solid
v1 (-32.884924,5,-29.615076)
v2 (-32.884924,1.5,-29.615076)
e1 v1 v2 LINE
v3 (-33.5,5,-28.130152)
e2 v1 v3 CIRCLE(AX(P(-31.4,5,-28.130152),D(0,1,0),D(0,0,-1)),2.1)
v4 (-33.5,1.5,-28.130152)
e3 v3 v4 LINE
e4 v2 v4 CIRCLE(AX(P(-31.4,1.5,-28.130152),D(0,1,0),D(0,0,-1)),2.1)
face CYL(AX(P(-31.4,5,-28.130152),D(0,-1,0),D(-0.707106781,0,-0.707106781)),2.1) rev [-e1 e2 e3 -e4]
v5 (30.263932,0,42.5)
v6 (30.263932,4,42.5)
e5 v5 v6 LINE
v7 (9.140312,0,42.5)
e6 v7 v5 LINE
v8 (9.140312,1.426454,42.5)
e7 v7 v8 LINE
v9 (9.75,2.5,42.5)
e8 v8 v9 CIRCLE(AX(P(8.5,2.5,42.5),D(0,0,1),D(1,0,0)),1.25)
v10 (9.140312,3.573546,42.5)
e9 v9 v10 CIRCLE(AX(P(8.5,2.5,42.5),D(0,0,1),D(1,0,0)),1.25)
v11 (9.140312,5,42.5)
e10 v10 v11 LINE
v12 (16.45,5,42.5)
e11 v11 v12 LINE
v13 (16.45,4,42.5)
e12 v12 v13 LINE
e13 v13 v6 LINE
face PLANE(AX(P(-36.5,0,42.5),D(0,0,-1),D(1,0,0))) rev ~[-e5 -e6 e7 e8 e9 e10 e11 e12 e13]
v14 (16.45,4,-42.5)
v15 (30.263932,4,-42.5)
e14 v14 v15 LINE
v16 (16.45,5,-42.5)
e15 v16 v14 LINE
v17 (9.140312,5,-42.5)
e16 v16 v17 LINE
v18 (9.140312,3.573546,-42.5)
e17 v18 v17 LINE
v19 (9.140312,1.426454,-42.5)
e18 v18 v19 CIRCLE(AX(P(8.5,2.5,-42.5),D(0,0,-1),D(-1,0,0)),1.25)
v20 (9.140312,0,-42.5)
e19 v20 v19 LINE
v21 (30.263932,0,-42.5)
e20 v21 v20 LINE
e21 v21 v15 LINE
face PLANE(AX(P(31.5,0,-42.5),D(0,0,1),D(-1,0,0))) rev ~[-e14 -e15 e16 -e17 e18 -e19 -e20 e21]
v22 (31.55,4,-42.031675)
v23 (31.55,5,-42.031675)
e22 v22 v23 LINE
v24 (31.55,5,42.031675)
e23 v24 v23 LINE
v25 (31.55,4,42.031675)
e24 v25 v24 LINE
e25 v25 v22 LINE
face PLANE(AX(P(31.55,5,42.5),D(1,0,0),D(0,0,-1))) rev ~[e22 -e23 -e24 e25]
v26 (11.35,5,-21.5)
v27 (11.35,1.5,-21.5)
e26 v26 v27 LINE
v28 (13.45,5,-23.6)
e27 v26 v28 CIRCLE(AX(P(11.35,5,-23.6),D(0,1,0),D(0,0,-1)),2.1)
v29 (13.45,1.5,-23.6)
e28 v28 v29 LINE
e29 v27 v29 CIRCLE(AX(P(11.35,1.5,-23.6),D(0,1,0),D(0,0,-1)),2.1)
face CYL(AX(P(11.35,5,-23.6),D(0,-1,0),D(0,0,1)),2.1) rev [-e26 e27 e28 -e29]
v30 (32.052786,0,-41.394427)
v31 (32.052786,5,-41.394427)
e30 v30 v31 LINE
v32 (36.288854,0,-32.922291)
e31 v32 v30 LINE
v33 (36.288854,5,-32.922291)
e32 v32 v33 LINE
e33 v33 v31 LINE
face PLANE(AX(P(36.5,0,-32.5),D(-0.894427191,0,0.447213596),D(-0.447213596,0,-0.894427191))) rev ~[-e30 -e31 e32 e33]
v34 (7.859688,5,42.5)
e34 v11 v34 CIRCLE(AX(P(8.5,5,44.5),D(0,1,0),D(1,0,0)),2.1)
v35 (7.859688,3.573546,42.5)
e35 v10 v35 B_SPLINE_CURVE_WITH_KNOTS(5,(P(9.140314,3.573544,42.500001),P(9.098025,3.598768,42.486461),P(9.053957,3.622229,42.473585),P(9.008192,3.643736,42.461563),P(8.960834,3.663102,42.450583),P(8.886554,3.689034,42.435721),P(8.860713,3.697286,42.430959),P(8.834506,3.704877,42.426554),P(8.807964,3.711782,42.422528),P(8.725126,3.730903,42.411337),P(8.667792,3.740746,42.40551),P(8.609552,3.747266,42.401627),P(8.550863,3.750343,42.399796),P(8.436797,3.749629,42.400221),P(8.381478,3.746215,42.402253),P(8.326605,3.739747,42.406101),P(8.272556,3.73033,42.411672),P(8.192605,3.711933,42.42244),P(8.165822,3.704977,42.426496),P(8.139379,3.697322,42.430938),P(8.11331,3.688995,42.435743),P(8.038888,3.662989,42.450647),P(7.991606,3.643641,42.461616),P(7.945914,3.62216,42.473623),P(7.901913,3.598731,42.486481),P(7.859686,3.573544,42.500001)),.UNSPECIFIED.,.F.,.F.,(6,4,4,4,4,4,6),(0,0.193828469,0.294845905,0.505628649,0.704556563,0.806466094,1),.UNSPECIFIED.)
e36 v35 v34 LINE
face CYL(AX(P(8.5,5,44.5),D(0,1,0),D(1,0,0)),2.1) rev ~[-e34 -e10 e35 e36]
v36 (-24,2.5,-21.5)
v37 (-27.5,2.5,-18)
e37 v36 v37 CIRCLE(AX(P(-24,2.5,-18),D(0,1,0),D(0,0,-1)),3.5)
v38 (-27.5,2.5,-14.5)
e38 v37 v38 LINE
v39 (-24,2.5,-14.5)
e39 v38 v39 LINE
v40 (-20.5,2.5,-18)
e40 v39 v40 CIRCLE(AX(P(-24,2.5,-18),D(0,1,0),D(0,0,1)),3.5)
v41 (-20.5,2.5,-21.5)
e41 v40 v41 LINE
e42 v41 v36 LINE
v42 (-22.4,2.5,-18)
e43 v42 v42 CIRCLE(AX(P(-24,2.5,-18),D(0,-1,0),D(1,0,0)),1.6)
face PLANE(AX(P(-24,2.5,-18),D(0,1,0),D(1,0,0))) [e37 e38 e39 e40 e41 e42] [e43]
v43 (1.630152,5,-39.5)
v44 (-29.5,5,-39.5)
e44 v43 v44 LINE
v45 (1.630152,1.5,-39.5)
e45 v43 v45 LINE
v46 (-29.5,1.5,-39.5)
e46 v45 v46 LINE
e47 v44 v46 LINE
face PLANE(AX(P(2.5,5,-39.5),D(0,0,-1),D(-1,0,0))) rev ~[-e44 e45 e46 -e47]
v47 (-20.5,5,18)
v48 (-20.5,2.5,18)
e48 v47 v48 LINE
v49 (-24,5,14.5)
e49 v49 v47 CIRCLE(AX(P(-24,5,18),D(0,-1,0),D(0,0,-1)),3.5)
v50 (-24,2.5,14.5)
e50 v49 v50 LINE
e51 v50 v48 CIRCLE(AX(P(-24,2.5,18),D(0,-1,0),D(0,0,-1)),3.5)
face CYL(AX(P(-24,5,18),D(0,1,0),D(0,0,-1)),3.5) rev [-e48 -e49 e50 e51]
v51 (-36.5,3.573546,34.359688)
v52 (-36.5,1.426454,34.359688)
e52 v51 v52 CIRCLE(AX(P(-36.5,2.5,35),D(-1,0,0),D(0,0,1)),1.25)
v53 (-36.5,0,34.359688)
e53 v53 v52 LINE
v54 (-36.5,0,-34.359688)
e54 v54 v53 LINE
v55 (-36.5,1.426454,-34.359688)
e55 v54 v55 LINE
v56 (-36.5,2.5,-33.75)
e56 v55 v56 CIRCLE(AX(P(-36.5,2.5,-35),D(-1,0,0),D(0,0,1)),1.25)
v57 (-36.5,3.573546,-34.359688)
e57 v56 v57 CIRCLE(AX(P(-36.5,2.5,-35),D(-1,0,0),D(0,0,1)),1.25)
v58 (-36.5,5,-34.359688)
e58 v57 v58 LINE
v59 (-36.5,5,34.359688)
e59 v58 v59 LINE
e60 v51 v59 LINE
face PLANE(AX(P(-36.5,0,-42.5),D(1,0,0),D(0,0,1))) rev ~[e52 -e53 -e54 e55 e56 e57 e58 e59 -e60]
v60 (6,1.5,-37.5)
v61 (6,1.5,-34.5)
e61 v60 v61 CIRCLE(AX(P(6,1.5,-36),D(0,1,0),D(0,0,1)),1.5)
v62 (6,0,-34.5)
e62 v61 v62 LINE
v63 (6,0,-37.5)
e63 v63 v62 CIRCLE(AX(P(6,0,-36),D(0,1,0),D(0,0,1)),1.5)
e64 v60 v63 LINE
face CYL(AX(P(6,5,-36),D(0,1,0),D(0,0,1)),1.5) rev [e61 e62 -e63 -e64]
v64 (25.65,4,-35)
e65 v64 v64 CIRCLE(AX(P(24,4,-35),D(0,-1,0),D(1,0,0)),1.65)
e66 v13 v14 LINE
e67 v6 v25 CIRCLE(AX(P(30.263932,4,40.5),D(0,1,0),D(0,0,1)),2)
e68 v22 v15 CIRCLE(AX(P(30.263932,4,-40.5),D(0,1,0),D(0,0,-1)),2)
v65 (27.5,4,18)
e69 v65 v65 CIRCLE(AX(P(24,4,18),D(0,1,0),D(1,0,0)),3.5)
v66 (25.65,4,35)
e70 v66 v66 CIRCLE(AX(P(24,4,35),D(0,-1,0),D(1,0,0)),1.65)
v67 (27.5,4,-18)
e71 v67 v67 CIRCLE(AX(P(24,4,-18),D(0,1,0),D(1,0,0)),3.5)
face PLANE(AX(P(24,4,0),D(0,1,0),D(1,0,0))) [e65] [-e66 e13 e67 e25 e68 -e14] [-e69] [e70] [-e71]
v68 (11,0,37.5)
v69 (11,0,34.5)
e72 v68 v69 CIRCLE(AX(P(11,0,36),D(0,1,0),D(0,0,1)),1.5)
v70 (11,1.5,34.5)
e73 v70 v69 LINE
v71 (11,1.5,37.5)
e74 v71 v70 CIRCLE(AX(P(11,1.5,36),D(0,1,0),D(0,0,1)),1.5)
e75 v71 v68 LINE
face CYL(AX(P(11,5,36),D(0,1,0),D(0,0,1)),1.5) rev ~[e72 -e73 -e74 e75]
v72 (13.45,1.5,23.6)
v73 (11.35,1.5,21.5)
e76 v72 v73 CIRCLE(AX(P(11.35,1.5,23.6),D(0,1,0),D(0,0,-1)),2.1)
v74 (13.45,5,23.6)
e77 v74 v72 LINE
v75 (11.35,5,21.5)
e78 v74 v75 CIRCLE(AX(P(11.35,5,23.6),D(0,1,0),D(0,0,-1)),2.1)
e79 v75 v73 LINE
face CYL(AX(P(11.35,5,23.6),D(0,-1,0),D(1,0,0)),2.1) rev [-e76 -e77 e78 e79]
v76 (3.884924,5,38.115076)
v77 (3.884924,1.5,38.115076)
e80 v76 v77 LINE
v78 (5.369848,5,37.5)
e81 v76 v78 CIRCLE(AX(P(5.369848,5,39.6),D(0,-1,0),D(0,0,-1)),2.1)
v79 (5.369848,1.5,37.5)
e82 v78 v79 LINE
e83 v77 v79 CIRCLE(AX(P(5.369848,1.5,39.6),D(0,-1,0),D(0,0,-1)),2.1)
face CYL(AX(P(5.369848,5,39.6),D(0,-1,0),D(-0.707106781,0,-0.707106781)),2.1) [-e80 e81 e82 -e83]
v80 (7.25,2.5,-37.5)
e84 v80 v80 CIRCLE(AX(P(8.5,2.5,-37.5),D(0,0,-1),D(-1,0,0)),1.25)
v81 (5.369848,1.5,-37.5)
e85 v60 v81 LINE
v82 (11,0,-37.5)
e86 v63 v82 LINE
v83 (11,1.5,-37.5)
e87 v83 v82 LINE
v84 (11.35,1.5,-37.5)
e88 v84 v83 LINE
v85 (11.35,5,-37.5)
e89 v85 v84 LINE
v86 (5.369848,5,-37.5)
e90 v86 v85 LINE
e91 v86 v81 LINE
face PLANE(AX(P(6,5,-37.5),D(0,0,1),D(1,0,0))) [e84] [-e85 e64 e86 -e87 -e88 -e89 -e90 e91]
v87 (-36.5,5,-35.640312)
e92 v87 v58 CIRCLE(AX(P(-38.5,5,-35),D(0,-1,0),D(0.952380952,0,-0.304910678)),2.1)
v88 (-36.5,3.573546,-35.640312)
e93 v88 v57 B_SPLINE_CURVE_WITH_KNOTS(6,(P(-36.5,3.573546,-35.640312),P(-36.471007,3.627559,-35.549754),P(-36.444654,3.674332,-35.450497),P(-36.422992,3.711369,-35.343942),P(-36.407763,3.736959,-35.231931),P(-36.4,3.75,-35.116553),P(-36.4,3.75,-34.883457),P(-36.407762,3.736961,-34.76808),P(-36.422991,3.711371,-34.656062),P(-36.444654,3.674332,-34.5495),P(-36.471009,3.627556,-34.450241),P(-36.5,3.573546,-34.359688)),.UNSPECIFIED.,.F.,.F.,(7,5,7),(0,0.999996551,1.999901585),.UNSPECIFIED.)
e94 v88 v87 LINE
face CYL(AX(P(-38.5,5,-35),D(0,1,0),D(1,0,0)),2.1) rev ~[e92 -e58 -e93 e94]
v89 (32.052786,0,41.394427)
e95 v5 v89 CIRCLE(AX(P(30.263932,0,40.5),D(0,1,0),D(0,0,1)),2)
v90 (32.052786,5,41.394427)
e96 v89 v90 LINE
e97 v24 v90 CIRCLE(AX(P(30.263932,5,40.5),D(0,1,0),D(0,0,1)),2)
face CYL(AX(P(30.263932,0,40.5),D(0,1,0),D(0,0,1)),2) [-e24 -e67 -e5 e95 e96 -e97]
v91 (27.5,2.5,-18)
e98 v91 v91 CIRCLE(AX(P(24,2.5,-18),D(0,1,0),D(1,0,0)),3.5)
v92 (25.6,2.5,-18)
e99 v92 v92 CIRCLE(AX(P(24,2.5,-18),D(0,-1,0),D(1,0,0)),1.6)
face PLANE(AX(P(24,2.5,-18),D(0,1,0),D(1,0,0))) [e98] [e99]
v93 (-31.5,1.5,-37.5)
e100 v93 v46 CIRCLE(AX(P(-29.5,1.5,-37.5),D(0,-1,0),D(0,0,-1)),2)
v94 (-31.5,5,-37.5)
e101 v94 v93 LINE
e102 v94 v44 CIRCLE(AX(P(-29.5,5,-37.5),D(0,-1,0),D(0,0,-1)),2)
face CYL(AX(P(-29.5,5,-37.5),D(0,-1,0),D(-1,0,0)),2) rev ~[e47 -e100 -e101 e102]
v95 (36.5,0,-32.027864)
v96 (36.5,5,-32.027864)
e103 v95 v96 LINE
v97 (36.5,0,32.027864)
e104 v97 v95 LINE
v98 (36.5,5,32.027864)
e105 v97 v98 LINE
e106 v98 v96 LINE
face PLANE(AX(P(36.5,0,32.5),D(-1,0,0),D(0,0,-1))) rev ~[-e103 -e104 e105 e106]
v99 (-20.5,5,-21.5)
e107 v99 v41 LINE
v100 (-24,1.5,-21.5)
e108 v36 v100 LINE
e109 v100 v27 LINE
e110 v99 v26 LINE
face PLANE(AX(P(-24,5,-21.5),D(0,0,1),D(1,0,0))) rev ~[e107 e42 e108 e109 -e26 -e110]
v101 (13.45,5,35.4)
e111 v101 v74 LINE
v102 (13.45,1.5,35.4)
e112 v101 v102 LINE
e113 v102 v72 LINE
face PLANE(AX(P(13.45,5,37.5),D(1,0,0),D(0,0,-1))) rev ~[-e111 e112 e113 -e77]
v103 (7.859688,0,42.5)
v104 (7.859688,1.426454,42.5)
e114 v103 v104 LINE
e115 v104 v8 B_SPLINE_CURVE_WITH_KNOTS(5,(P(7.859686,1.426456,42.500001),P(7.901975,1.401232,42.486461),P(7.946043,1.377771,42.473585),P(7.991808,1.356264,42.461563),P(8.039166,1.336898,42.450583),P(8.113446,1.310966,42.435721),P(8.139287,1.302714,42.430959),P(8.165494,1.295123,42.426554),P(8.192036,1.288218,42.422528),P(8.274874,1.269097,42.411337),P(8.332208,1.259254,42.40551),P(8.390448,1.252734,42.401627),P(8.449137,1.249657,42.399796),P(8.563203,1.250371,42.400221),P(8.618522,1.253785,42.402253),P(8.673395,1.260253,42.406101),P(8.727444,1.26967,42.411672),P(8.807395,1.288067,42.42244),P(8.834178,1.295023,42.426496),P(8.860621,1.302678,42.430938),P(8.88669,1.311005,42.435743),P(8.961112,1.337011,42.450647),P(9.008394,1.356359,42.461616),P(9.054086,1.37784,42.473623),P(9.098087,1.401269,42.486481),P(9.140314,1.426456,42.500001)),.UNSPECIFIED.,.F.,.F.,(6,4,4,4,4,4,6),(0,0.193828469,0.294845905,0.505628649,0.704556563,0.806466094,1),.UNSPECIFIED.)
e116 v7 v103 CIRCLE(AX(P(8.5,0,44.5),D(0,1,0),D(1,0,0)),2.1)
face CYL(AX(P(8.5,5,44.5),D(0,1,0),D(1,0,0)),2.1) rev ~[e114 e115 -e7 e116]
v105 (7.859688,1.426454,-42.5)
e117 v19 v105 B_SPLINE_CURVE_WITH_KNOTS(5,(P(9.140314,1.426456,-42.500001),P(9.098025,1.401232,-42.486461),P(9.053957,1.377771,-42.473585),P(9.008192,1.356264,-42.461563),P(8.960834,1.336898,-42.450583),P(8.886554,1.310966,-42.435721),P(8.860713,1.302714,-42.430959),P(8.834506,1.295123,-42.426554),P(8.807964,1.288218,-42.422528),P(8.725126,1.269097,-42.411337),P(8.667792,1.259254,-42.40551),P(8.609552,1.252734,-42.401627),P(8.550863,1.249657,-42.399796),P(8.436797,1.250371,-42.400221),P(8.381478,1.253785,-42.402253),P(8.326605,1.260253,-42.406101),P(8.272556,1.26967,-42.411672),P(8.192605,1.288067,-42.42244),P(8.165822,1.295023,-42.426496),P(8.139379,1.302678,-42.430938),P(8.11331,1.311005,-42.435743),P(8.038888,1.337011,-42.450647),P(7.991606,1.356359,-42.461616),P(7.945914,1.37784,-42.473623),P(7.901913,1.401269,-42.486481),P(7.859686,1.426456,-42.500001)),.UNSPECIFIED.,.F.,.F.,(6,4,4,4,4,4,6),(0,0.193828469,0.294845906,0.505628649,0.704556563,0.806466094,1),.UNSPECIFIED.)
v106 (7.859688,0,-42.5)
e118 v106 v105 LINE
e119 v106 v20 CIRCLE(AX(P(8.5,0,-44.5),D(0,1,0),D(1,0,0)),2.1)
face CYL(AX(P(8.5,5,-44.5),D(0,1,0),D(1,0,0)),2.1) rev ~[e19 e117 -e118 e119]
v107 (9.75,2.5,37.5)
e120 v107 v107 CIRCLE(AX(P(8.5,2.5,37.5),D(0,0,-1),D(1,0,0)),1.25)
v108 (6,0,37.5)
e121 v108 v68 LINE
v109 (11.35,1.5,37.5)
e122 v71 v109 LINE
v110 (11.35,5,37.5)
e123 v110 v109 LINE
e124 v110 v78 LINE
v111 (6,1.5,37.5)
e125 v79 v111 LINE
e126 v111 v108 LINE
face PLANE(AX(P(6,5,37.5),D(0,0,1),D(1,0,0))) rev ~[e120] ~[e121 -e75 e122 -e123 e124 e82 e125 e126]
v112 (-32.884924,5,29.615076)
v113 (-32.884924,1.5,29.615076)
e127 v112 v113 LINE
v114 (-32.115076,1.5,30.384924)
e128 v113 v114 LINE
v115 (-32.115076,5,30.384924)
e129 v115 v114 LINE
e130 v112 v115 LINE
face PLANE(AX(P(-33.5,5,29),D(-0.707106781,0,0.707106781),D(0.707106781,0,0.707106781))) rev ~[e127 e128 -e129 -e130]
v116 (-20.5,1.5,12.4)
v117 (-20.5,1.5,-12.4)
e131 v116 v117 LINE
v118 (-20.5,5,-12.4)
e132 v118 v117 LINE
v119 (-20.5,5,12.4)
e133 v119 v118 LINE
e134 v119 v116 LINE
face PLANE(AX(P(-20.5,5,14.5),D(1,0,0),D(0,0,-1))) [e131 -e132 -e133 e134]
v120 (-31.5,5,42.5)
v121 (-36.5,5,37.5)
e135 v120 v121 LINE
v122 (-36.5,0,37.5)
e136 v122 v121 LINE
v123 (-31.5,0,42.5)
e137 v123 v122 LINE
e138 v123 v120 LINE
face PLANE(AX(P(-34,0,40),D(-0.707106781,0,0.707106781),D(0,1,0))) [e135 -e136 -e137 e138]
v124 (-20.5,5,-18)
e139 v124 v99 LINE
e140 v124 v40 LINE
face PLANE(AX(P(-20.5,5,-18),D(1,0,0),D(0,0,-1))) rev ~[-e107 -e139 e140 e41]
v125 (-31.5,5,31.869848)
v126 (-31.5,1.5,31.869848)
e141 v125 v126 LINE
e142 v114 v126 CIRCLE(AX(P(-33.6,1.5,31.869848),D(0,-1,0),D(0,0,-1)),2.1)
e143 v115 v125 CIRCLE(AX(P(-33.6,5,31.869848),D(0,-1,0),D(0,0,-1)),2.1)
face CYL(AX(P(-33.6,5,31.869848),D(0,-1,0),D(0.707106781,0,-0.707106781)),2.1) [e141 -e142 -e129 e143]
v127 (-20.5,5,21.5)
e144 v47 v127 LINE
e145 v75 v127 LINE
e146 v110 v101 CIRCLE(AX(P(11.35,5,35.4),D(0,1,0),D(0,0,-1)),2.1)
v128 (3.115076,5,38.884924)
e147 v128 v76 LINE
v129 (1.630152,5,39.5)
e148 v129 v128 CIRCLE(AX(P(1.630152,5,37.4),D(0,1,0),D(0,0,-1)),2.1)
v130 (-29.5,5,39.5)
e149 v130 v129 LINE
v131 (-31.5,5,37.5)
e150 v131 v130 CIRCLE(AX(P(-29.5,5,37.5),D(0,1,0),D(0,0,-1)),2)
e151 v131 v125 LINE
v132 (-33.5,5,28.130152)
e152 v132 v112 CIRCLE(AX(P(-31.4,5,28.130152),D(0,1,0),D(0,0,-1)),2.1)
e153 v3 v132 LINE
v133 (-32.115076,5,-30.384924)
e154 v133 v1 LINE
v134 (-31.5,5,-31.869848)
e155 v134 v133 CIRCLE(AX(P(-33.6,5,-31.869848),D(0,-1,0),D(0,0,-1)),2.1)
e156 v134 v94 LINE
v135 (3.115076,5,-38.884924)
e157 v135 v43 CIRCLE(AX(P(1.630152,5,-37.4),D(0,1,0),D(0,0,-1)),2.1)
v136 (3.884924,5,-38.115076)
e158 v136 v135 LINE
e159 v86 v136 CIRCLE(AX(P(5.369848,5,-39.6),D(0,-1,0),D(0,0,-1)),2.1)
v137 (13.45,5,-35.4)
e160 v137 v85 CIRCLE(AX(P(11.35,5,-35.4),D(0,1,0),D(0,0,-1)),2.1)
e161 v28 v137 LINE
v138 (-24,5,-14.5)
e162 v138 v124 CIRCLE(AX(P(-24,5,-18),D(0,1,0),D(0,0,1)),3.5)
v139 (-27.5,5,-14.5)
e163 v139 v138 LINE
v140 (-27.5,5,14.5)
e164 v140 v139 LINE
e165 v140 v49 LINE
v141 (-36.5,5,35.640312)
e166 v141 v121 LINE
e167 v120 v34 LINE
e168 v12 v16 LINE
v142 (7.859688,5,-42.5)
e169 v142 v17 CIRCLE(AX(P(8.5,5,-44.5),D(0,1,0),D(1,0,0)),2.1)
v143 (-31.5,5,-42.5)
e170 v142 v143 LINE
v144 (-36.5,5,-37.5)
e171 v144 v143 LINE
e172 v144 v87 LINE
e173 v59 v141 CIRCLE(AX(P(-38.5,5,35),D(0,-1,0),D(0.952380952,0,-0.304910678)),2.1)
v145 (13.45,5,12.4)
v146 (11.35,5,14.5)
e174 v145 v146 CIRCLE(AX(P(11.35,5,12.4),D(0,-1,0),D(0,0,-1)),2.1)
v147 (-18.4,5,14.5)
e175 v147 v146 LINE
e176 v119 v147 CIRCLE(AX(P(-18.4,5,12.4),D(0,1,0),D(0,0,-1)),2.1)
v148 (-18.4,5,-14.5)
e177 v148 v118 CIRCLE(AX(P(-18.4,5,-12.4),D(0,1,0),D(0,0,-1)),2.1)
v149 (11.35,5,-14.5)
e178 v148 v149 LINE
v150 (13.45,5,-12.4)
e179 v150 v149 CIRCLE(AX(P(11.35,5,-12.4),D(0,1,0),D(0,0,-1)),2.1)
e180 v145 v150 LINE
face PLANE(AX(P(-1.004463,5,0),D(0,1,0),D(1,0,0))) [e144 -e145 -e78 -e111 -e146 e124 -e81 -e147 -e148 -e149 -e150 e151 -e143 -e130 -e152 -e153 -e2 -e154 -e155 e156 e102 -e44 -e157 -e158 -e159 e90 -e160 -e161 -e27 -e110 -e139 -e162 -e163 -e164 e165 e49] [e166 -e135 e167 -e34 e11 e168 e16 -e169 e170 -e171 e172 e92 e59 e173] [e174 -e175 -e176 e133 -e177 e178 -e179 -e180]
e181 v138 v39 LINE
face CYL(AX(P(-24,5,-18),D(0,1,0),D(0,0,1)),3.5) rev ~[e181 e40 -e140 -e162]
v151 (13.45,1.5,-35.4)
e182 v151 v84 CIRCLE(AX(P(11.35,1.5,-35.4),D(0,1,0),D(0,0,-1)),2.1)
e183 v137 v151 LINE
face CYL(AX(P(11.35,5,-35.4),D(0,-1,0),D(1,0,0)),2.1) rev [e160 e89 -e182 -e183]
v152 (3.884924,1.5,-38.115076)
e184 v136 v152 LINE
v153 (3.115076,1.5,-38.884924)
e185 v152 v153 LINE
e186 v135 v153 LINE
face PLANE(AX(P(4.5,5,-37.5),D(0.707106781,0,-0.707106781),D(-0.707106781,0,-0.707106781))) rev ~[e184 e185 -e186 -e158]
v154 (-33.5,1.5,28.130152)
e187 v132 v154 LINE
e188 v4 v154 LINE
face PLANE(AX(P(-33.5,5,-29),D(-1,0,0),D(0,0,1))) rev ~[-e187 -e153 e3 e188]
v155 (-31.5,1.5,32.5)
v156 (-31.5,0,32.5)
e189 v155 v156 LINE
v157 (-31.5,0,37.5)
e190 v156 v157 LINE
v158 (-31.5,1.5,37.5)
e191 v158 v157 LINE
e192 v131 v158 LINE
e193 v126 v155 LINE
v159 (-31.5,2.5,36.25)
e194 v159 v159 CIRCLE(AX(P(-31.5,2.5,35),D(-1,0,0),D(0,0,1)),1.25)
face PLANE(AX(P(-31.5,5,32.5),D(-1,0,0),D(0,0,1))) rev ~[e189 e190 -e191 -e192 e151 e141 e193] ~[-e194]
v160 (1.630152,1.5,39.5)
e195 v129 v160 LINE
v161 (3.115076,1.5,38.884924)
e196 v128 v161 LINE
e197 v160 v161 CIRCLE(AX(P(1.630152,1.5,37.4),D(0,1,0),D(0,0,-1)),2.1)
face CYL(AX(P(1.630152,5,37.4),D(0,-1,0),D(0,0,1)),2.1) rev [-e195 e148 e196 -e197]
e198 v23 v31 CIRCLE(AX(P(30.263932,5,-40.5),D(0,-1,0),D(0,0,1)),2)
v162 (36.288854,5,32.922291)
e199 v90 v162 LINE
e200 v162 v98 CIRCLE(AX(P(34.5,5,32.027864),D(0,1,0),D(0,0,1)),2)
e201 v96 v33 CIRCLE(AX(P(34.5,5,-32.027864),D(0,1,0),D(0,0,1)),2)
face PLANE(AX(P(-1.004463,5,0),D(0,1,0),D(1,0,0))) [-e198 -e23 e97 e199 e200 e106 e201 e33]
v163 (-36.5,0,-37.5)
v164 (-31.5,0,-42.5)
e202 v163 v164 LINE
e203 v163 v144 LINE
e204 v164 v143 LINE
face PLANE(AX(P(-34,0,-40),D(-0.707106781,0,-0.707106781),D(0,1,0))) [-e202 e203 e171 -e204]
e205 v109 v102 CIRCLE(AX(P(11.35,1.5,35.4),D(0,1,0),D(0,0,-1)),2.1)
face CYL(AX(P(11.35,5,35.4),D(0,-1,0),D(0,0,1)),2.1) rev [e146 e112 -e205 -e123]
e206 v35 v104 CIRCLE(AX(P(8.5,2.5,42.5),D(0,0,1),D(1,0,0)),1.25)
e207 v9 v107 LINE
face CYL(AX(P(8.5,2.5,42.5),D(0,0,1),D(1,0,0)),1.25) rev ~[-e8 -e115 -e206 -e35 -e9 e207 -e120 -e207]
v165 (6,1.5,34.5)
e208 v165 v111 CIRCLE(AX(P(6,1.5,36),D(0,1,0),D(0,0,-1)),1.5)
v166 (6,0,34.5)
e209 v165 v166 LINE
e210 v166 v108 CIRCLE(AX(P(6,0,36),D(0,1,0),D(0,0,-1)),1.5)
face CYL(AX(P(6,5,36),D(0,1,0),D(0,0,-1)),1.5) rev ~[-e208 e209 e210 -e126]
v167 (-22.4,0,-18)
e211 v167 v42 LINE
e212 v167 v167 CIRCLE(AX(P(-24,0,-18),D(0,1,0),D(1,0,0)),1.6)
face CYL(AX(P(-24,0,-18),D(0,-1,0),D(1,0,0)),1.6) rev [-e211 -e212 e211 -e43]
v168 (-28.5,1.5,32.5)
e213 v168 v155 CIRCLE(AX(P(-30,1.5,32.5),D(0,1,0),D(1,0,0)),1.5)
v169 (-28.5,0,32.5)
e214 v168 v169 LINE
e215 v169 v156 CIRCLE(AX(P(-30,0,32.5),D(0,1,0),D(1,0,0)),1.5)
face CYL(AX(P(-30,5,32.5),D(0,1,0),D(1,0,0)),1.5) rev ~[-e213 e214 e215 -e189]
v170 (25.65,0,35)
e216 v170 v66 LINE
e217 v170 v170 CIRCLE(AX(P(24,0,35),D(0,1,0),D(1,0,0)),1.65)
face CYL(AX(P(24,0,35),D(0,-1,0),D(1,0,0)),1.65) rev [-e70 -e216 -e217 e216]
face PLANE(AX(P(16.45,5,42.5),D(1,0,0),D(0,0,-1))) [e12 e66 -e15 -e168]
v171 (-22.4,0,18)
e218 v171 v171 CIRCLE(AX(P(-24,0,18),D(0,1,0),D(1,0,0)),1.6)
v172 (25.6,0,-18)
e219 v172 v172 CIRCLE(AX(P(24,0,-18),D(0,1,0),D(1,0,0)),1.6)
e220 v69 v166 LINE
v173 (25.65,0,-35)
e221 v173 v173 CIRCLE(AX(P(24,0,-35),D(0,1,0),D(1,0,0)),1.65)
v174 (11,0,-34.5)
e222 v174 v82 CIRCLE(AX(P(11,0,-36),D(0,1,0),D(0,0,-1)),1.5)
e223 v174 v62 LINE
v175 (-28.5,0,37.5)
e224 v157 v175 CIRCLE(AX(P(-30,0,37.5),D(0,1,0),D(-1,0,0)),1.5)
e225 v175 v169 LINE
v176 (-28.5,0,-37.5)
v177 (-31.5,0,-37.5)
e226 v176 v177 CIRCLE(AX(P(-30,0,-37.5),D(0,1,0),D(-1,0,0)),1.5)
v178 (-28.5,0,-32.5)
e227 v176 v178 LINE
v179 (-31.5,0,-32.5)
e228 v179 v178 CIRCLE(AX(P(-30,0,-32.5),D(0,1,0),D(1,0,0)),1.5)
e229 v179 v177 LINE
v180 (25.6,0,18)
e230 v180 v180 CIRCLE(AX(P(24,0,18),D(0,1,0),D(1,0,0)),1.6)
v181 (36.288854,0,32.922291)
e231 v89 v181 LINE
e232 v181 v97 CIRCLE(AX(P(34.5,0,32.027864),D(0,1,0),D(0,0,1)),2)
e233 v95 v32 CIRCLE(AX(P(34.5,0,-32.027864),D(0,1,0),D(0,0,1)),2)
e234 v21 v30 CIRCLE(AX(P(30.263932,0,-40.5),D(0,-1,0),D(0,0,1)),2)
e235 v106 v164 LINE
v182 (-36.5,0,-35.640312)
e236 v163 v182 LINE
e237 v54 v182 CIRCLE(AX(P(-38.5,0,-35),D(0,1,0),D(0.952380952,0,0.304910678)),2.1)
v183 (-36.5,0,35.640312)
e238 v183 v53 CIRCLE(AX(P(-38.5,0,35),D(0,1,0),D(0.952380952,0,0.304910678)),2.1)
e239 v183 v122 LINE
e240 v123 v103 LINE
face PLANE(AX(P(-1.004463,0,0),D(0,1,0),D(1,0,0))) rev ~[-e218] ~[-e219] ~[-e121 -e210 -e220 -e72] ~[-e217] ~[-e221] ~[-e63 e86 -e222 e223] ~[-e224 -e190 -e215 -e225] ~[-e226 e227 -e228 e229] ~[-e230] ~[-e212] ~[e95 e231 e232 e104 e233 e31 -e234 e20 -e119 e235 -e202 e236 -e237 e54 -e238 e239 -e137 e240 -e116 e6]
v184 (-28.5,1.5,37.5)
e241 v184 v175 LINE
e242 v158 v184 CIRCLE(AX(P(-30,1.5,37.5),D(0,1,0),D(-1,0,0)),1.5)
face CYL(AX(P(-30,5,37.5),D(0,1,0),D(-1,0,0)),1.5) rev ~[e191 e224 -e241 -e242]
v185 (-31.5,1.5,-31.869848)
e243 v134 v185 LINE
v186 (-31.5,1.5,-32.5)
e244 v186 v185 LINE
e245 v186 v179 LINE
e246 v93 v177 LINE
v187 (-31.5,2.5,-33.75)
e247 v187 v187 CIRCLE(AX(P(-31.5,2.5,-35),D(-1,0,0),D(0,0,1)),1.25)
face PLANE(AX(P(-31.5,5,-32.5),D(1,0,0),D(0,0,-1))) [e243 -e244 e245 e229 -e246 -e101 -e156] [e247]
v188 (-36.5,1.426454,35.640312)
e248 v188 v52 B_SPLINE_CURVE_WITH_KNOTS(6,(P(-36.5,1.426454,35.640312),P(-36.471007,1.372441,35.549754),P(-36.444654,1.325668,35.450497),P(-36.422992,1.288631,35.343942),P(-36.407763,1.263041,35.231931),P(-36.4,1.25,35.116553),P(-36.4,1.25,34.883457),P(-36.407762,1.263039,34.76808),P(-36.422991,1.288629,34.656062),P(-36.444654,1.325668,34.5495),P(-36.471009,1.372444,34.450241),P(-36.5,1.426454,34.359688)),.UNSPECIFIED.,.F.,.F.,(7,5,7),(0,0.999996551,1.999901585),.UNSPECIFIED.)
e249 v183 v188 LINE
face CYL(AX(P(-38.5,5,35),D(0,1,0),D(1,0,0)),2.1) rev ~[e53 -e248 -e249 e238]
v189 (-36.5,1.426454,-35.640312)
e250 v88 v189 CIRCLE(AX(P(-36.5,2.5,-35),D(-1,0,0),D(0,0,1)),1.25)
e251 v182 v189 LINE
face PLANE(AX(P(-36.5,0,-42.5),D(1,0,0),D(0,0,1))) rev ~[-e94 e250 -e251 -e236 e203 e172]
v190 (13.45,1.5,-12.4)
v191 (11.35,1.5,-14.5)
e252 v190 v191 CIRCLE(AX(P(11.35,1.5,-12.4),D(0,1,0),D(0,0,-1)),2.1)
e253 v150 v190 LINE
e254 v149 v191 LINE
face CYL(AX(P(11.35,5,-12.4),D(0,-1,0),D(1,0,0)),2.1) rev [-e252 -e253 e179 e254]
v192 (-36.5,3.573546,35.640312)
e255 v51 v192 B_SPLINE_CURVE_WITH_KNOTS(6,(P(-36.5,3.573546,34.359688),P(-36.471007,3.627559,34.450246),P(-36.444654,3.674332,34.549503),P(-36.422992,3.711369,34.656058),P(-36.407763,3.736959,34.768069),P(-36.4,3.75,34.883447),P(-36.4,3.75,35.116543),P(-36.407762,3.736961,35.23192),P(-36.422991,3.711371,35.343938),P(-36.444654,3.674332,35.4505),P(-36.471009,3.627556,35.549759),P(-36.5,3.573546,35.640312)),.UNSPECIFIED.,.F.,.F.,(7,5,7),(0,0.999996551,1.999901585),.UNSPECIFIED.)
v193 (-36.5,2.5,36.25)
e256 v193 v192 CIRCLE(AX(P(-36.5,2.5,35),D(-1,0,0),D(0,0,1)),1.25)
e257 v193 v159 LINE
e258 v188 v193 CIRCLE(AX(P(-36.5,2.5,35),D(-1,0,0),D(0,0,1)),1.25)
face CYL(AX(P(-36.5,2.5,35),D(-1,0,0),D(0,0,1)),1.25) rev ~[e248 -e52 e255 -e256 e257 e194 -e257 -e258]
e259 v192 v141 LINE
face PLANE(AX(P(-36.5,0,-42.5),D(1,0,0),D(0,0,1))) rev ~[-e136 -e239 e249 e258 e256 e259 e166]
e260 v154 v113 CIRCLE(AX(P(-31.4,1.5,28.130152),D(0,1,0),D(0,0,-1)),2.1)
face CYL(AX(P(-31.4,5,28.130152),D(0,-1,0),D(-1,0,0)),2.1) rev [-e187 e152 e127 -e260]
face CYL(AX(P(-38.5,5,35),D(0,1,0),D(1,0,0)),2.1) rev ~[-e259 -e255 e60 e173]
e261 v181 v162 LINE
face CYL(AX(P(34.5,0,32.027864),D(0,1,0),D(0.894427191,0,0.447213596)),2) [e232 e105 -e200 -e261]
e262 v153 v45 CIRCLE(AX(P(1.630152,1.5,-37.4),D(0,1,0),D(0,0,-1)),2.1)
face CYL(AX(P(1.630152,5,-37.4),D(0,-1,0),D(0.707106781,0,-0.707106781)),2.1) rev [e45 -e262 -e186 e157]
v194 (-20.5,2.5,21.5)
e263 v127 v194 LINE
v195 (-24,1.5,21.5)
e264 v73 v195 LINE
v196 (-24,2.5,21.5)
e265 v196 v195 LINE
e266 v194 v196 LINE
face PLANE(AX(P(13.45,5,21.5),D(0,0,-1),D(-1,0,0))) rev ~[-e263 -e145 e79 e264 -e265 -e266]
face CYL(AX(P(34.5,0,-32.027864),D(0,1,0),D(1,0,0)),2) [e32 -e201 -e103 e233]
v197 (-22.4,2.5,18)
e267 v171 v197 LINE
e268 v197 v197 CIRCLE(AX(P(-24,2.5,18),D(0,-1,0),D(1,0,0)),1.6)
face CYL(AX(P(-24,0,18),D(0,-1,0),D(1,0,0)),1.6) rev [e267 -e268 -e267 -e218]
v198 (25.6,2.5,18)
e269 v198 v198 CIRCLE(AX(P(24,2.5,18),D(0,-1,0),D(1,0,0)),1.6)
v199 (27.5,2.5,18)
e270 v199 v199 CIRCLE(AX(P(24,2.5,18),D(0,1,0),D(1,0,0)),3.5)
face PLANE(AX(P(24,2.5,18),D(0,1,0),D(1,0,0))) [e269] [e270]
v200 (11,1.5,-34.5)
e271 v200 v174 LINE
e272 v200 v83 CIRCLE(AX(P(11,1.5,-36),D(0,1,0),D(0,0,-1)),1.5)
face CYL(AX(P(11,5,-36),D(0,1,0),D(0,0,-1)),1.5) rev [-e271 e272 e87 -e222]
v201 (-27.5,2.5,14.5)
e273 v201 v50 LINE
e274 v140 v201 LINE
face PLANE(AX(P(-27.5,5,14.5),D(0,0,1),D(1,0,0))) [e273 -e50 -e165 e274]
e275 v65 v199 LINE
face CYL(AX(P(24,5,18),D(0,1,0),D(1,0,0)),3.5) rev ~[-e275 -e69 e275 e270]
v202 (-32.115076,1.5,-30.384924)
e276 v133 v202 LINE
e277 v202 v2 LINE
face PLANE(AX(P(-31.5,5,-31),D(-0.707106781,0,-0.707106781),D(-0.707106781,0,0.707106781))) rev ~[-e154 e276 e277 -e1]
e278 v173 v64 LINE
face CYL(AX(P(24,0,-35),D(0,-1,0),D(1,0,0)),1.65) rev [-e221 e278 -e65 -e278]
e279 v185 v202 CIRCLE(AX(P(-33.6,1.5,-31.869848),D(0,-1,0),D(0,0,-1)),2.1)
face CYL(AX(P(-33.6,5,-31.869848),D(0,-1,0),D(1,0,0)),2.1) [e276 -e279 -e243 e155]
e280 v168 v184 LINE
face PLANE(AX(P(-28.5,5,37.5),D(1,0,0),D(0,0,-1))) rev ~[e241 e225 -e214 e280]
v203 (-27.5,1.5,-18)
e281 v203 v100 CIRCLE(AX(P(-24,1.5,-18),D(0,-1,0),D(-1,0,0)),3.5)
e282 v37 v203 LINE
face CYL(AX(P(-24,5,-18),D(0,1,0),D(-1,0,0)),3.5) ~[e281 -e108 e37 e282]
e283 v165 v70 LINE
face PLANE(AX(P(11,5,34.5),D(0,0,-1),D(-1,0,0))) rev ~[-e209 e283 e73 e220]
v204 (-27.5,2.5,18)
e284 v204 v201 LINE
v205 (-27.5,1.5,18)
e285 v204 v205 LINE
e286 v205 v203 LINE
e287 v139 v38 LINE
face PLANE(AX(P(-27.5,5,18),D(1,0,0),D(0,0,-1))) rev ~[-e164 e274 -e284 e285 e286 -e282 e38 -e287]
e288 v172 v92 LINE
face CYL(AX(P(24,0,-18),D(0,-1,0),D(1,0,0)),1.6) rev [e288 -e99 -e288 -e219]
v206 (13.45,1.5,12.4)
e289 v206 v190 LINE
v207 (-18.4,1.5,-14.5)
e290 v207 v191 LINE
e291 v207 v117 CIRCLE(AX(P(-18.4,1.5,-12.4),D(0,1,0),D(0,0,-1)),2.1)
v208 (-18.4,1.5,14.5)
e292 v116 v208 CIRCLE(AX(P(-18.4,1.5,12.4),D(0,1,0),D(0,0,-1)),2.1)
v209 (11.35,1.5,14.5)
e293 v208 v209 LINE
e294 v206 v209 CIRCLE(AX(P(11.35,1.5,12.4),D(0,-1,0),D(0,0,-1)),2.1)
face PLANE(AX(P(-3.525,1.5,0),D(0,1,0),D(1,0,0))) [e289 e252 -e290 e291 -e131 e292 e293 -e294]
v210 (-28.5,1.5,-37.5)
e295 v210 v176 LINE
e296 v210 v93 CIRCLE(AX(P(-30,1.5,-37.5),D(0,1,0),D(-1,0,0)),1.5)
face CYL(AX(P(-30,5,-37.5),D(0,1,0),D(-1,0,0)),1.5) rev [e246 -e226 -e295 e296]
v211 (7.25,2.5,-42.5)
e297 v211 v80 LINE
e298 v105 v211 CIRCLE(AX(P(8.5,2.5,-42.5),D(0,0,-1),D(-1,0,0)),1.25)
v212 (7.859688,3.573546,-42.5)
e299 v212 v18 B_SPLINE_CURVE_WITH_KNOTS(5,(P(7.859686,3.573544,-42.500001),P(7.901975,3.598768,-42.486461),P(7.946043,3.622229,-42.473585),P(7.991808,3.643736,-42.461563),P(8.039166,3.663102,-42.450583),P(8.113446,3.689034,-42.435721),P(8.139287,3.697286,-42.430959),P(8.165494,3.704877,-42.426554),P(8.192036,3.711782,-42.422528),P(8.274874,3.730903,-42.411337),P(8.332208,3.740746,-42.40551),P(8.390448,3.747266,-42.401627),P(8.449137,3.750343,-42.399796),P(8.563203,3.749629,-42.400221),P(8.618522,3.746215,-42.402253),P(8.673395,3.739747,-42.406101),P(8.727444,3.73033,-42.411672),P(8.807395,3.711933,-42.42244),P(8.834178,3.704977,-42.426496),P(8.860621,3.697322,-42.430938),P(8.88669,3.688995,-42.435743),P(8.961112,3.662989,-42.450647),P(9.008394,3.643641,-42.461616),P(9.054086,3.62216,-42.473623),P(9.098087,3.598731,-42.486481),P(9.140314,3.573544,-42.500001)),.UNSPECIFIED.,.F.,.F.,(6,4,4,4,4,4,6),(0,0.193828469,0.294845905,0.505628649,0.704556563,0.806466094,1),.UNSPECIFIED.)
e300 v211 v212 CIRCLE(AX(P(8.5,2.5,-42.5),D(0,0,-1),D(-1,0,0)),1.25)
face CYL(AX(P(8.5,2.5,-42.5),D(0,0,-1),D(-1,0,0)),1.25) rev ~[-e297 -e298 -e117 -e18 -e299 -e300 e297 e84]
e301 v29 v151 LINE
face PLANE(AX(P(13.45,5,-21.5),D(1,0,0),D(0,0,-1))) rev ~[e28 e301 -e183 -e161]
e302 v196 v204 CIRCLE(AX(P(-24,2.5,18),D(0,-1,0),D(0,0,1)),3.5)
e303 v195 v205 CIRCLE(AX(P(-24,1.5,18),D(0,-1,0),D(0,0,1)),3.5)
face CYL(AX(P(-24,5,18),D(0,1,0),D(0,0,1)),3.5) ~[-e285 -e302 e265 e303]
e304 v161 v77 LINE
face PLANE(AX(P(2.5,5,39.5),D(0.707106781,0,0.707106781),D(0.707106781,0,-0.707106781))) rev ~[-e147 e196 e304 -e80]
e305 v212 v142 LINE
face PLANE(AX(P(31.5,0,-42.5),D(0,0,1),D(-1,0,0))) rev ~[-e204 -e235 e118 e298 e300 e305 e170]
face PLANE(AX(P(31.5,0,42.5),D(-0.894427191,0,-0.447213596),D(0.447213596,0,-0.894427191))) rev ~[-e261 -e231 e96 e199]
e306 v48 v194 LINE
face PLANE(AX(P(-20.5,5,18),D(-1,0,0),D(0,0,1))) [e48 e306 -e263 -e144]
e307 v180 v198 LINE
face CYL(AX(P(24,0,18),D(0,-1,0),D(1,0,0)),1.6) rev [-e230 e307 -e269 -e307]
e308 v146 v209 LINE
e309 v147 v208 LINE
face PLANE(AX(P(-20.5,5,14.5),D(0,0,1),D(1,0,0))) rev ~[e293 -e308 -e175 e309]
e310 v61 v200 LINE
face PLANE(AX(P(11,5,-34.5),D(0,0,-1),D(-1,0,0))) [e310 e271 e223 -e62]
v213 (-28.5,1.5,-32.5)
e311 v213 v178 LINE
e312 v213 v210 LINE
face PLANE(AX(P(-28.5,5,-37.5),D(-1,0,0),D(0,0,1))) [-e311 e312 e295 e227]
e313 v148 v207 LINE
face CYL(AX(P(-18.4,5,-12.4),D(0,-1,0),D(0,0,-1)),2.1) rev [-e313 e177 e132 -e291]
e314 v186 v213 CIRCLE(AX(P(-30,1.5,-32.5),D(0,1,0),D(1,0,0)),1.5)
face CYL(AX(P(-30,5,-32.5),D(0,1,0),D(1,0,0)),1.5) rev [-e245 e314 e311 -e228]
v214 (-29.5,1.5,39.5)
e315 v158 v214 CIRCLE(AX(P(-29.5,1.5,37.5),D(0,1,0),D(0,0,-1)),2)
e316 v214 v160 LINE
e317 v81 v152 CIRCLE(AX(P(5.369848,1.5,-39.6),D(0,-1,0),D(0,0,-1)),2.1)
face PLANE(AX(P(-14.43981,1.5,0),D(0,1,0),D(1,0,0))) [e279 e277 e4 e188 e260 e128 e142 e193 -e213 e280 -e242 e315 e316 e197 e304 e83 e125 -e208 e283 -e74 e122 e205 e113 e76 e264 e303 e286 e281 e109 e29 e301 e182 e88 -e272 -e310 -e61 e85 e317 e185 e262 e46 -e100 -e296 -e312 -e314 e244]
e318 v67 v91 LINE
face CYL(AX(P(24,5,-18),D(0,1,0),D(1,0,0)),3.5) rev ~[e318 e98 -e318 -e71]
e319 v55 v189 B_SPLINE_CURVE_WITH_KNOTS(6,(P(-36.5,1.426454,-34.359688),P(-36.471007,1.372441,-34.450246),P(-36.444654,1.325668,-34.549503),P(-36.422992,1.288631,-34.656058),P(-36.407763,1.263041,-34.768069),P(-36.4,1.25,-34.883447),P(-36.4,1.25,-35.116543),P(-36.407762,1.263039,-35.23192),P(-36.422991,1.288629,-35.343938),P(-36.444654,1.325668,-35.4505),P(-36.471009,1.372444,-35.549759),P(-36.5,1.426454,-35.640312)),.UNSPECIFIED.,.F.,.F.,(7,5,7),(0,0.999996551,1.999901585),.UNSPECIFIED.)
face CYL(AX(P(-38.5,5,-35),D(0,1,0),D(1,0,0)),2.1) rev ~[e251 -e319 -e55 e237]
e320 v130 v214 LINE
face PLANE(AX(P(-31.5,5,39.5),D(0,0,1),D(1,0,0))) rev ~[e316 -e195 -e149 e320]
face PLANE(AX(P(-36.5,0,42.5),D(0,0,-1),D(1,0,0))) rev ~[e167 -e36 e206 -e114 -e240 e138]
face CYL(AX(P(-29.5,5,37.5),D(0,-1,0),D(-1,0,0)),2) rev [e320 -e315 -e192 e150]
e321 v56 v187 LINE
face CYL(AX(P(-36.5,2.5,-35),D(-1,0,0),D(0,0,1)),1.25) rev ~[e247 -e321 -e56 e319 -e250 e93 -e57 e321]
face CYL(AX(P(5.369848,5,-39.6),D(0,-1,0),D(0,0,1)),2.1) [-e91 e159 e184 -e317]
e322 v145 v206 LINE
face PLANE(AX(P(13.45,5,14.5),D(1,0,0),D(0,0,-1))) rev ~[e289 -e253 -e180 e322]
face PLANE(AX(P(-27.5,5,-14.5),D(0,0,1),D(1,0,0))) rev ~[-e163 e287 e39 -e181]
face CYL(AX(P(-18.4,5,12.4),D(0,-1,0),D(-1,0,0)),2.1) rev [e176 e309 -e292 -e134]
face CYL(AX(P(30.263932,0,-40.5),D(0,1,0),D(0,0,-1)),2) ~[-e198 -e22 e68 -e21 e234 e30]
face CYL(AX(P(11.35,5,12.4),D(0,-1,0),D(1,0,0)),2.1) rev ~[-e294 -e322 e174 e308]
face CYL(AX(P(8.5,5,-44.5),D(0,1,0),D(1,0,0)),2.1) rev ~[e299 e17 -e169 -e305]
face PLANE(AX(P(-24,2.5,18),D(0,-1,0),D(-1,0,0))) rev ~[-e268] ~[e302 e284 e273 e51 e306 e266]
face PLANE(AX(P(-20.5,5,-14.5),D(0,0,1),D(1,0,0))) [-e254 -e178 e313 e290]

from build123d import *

# Parameters (mm, degrees)
SKETCH_1_R          = 1.6
SKETCH_1_R_2        = 1.65
EXTRUDE_1_DEPTH     = 5
FILLET_1_R          = 2
SKETCH_2_R          = 3.5
CUT_EXTRUDE_1_DEPTH = 2.5
SKETCH_3_W          = 15.1
SKETCH_3_H          = 85
CUT_EXTRUDE_2_DEPTH = 1
SKETCH_4_R          = 1.25
CUT_EXTRUDE_3_DEPTH = 5
CHAMFER_1_SIZE      = 5
SKETCH_6_R          = 1.25
CUT_EXTRUDE_5_DEPTH = 5
SKETCH_7_R          = 1.25
CUT_EXTRUDE_6_DEPTH = 5
SKETCH_5_R          = 2.1
CUT_EXTRUDE_4_DEPTH = 6
CUT_EXTRUDE_7_DEPTH = 2.5
CUT_EXTRUDE_9_DEPTH = 6.0000001
SKETCH_9_W          = 33.95
SKETCH_9_H          = 29
CUT_EXTRUDE_8_DEPTH = 3.5
FILLET_29_R         = 2.1
FILLET_30_R         = 2


with BuildPart() as part:
    # ｽｹｯﾁ1 → ﾎﾞｽ - 押し出し1 (new body)
    with BuildSketch(Plane(origin=(0, 0, 0), x_dir=(1, 0, 0), z_dir=(0, 1, 0))):
        Polygon((-36.5, -42.5), (31.5, -42.5), (36.5, -32.5), (36.5, 32.5), (31.5, 42.5), (-36.5, 42.5), align=None)
        with Locations((-24, -18)):
            Circle(SKETCH_1_R, mode=Mode.SUBTRACT)
        with Locations((-24, 18)):
            Circle(SKETCH_1_R, mode=Mode.SUBTRACT)
        with Locations((24, 35)):
            Circle(SKETCH_1_R_2, mode=Mode.SUBTRACT)
        with Locations((24, -35)):
            Circle(SKETCH_1_R_2, mode=Mode.SUBTRACT)
        with Locations((24, -18)):
            Circle(SKETCH_1_R, mode=Mode.SUBTRACT)
        with Locations((24, 18)):
            Circle(SKETCH_1_R, mode=Mode.SUBTRACT)
    extrude(amount=EXTRUDE_1_DEPTH)

    # ﾌｨﾚｯﾄ1
    fillet_1_edges = [part.edges().sort_by_distance(p)[0] for p in [
        (31.5, 2.5, -42.5),
        (36.5, 2.5, -32.5),
        (36.5, 2.5, 32.5),
        (31.5, 2.5, 42.5),
    ]]
    fillet(fillet_1_edges, radius=FILLET_1_R)

    # ｽｹｯﾁ2 → ｶｯﾄ - 押し出し1 (cut)
    with BuildSketch(Plane(origin=(0, 5, 0), x_dir=(1, 0, 0), z_dir=(0, 1, 0))):
        with Locations((24, 18)):
            Circle(SKETCH_2_R)
        with Locations((24, -18)):
            Circle(SKETCH_2_R)
    extrude(amount=-CUT_EXTRUDE_1_DEPTH, mode=Mode.SUBTRACT)

    # ｽｹｯﾁ3 → ｶｯﾄ - 押し出し2 (cut)
    with BuildSketch(Plane(origin=(0, 5, 0), x_dir=(1, 0, 0), z_dir=(0, 1, 0))):
        with Locations((24, 0)):
            Rectangle(SKETCH_3_W, SKETCH_3_H)
    extrude(amount=-CUT_EXTRUDE_2_DEPTH, mode=Mode.SUBTRACT)

    # ｽｹｯﾁ4 → ｶｯﾄ - 押し出し3 (cut)
    with BuildSketch(Plane.ZY.offset(36.5)):
        with Locations((-35, 2.5)):
            Circle(SKETCH_4_R)
        with Locations((35, 2.5)):
            Circle(SKETCH_4_R)
    extrude(amount=-CUT_EXTRUDE_3_DEPTH, mode=Mode.SUBTRACT)

    # 面取り1
    chamfer_1_edges = [part.edges().sort_by_distance(p)[0] for p in [
        (-36.5, 2.5, 42.5),
        (-36.5, 2.5, -42.5),
    ]]
    chamfer(chamfer_1_edges, length=CHAMFER_1_SIZE)

    # ｽｹｯﾁ6 → ｶｯﾄ - 押し出し5 (cut)
    with BuildSketch(Plane.XY.offset(42.5)):
        with Locations((8.5, 2.5)):
            Circle(SKETCH_6_R)
    extrude(amount=-CUT_EXTRUDE_5_DEPTH, mode=Mode.SUBTRACT)

    # ｽｹｯﾁ7 → ｶｯﾄ - 押し出し6 (cut)
    with BuildSketch(Plane(origin=(0, 0, -42.5), x_dir=(-1, 0, 0), z_dir=(0, 0, -1))):
        with Locations((-8.5, 2.5)):
            Circle(SKETCH_7_R)
    extrude(amount=-CUT_EXTRUDE_6_DEPTH, mode=Mode.SUBTRACT)

    # ｽｹｯﾁ5 → ｶｯﾄ - 押し出し4 (cut, through all)
    with BuildSketch(Plane(origin=(0, 5, 0), x_dir=(1, 0, 0), z_dir=(0, 1, 0))):
        with Locations((-38.5, 35)):
            Circle(SKETCH_5_R)
        with Locations((-38.5, -35)):
            Circle(SKETCH_5_R)
        with Locations((8.5, -44.5)):
            Circle(SKETCH_5_R)
        with Locations((8.5, 44.5)):
            Circle(SKETCH_5_R)
    extrude(amount=-CUT_EXTRUDE_4_DEPTH, mode=Mode.SUBTRACT)

    # ｽｹｯﾁ8 → ｶｯﾄ - 押し出し7 (cut)
    with BuildSketch(Plane(origin=(0, 5, 0), x_dir=(1, 0, 0), z_dir=(0, 1, 0))):
        with BuildLine():
            Line((-20.5, 18), (-20.5, 21.5))
            Line((-20.5, 21.5), (-24, 21.5))
            ThreePointArc((-24, 21.5), (-26.474873734, 20.474873734), (-27.5, 18))
            Line((-27.5, 18), (-27.5, 14.5))
            Line((-27.5, 14.5), (-24, 14.5))
            ThreePointArc((-24, 14.5), (-21.525126266, 15.525126266), (-20.5, 18))
        make_face()
        with BuildLine():
            Line((-27.5, -18), (-27.5, -14.5))
            Line((-27.5, -14.5), (-24, -14.5))
            ThreePointArc((-24, -14.5), (-21.525126266, -15.525126266), (-20.5, -18))
            Line((-20.5, -18), (-20.5, -21.5))
            Line((-20.5, -21.5), (-24, -21.5))
            ThreePointArc((-24, -21.5), (-26.474873734, -20.474873734), (-27.5, -18))
        make_face()
    extrude(amount=-CUT_EXTRUDE_7_DEPTH, mode=Mode.SUBTRACT)

    # ｽｹｯﾁ10 → ｶｯﾄ - 押し出し9 (cut, through all)
    with BuildSketch(Plane(origin=(0, 5, 0), x_dir=(1, 0, 0), z_dir=(0, 1, 0))):
        with BuildLine():
            Line((-31.5, 32.5), (-31.5, 37.5))
            ThreePointArc((-31.5, 37.5), (-30, 39), (-28.5, 37.5))
            Line((-28.5, 37.5), (-28.5, 32.5))
            ThreePointArc((-28.5, 32.5), (-30, 31), (-31.5, 32.5))
        make_face()
        with BuildLine():
            Line((6, 37.5), (11, 37.5))
            ThreePointArc((11, 37.5), (12.5, 36), (11, 34.5))
            Line((11, 34.5), (6, 34.5))
            ThreePointArc((6, 34.5), (4.5, 36), (6, 37.5))
        make_face()
        with BuildLine():
            Line((6, -37.5), (11, -37.5))
            ThreePointArc((11, -37.5), (12.5, -36), (11, -34.5))
            Line((11, -34.5), (6, -34.5))
            ThreePointArc((6, -34.5), (4.5, -36), (6, -37.5))
        make_face()
        with BuildLine():
            Line((-31.5, -32.5), (-31.5, -37.5))
            ThreePointArc((-31.5, -37.5), (-30, -39), (-28.5, -37.5))
            Line((-28.5, -37.5), (-28.5, -32.5))
            ThreePointArc((-28.5, -32.5), (-30, -31), (-31.5, -32.5))
        make_face()
    extrude(amount=-CUT_EXTRUDE_9_DEPTH, mode=Mode.SUBTRACT)

    # ｽｹｯﾁ9 → ｶｯﾄ - 押し出し8 (cut)
    with BuildSketch(Plane(origin=(0, 5, 0), x_dir=(1, 0, 0), z_dir=(0, 1, 0))):
        with Locations((-3.525, 0)):
            Rectangle(SKETCH_9_W, SKETCH_9_H)
        with BuildLine():
            Line((-24, 21.5), (13.45, 21.5))
            Line((13.45, 21.5), (13.45, 34.5))
            Line((13.45, 34.5), (13.45, 37.5))
            Line((13.45, 37.5), (11, 37.5))
            Line((11, 37.5), (6, 37.5))
            Line((6, 37.5), (4.5, 37.5))
            Line((4.5, 37.5), (2.5, 39.5))
            Line((2.5, 39.5), (-31.5, 39.5))
            Line((-31.5, 39.5), (-31.5, 37.5))
            Line((-31.5, 37.5), (-31.5, 32.5))
            Line((-31.5, 32.5), (-31.5, 31))
            Line((-31.5, 31), (-33.5, 29))
            Line((-33.5, 29), (-33.5, -29))
            Line((-33.5, -29), (-31.5, -31))
            Line((-31.5, -31), (-31.5, -32.5))
            Line((-31.5, -32.5), (-31.5, -37.5))
            Line((-31.5, -37.5), (-31.5, -39.5))
            Line((-31.5, -39.5), (2.5, -39.5))
            Line((2.5, -39.5), (4.5, -37.5))
            Line((4.5, -37.5), (6, -37.5))
            Line((6, -37.5), (11, -37.5))
            Line((11, -37.5), (13.45, -37.5))
            Line((13.45, -37.5), (13.45, -34.5))
            Line((13.45, -34.5), (13.45, -21.5))
            Line((13.45, -21.5), (-24, -21.5))
            ThreePointArc((-24, -21.5), (-26.474873734, -20.474873734), (-27.5, -18))
            Line((-27.5, -18), (-27.5, 18))
            ThreePointArc((-27.5, 18), (-26.474873734, 20.474873734), (-24, 21.5))
        make_face()
    extrude(amount=-CUT_EXTRUDE_8_DEPTH, mode=Mode.SUBTRACT)

    # ﾌｨﾚｯﾄ29
    fillet_29_edges = [part.edges().sort_by_distance(p)[0] for p in [
        (13.45, 3.25, -21.5),
        (4.5, 3.25, -37.5),
        (13.45, 3.25, 37.5),
        (-31.5, 3.25, -31),
        (13.45, 3.25, 21.5),
        (4.5, 3.25, 37.5),
        (2.5, 3.25, 39.5),
        (-31.5, 3.25, 31),
        (-33.5, 3.25, 29),
        (-33.5, 3.25, -29),
        (2.5, 3.25, -39.5),
        (13.45, 3.25, -37.5),
        (-20.5, 3.25, 14.5),
        (-20.5, 3.25, -14.5),
        (13.45, 3.25, -14.5),
        (13.45, 3.25, 14.5),
    ]]
    fillet(fillet_29_edges, radius=FILLET_29_R)

    # ﾌｨﾚｯﾄ30
    fillet_30_edges = [part.edges().sort_by_distance(p)[0] for p in [
        (-31.5, 3.25, 39.5),
        (-31.5, 3.25, -39.5),
    ]]
    fillet(fillet_30_edges, radius=FILLET_30_R)


solid = part.part
